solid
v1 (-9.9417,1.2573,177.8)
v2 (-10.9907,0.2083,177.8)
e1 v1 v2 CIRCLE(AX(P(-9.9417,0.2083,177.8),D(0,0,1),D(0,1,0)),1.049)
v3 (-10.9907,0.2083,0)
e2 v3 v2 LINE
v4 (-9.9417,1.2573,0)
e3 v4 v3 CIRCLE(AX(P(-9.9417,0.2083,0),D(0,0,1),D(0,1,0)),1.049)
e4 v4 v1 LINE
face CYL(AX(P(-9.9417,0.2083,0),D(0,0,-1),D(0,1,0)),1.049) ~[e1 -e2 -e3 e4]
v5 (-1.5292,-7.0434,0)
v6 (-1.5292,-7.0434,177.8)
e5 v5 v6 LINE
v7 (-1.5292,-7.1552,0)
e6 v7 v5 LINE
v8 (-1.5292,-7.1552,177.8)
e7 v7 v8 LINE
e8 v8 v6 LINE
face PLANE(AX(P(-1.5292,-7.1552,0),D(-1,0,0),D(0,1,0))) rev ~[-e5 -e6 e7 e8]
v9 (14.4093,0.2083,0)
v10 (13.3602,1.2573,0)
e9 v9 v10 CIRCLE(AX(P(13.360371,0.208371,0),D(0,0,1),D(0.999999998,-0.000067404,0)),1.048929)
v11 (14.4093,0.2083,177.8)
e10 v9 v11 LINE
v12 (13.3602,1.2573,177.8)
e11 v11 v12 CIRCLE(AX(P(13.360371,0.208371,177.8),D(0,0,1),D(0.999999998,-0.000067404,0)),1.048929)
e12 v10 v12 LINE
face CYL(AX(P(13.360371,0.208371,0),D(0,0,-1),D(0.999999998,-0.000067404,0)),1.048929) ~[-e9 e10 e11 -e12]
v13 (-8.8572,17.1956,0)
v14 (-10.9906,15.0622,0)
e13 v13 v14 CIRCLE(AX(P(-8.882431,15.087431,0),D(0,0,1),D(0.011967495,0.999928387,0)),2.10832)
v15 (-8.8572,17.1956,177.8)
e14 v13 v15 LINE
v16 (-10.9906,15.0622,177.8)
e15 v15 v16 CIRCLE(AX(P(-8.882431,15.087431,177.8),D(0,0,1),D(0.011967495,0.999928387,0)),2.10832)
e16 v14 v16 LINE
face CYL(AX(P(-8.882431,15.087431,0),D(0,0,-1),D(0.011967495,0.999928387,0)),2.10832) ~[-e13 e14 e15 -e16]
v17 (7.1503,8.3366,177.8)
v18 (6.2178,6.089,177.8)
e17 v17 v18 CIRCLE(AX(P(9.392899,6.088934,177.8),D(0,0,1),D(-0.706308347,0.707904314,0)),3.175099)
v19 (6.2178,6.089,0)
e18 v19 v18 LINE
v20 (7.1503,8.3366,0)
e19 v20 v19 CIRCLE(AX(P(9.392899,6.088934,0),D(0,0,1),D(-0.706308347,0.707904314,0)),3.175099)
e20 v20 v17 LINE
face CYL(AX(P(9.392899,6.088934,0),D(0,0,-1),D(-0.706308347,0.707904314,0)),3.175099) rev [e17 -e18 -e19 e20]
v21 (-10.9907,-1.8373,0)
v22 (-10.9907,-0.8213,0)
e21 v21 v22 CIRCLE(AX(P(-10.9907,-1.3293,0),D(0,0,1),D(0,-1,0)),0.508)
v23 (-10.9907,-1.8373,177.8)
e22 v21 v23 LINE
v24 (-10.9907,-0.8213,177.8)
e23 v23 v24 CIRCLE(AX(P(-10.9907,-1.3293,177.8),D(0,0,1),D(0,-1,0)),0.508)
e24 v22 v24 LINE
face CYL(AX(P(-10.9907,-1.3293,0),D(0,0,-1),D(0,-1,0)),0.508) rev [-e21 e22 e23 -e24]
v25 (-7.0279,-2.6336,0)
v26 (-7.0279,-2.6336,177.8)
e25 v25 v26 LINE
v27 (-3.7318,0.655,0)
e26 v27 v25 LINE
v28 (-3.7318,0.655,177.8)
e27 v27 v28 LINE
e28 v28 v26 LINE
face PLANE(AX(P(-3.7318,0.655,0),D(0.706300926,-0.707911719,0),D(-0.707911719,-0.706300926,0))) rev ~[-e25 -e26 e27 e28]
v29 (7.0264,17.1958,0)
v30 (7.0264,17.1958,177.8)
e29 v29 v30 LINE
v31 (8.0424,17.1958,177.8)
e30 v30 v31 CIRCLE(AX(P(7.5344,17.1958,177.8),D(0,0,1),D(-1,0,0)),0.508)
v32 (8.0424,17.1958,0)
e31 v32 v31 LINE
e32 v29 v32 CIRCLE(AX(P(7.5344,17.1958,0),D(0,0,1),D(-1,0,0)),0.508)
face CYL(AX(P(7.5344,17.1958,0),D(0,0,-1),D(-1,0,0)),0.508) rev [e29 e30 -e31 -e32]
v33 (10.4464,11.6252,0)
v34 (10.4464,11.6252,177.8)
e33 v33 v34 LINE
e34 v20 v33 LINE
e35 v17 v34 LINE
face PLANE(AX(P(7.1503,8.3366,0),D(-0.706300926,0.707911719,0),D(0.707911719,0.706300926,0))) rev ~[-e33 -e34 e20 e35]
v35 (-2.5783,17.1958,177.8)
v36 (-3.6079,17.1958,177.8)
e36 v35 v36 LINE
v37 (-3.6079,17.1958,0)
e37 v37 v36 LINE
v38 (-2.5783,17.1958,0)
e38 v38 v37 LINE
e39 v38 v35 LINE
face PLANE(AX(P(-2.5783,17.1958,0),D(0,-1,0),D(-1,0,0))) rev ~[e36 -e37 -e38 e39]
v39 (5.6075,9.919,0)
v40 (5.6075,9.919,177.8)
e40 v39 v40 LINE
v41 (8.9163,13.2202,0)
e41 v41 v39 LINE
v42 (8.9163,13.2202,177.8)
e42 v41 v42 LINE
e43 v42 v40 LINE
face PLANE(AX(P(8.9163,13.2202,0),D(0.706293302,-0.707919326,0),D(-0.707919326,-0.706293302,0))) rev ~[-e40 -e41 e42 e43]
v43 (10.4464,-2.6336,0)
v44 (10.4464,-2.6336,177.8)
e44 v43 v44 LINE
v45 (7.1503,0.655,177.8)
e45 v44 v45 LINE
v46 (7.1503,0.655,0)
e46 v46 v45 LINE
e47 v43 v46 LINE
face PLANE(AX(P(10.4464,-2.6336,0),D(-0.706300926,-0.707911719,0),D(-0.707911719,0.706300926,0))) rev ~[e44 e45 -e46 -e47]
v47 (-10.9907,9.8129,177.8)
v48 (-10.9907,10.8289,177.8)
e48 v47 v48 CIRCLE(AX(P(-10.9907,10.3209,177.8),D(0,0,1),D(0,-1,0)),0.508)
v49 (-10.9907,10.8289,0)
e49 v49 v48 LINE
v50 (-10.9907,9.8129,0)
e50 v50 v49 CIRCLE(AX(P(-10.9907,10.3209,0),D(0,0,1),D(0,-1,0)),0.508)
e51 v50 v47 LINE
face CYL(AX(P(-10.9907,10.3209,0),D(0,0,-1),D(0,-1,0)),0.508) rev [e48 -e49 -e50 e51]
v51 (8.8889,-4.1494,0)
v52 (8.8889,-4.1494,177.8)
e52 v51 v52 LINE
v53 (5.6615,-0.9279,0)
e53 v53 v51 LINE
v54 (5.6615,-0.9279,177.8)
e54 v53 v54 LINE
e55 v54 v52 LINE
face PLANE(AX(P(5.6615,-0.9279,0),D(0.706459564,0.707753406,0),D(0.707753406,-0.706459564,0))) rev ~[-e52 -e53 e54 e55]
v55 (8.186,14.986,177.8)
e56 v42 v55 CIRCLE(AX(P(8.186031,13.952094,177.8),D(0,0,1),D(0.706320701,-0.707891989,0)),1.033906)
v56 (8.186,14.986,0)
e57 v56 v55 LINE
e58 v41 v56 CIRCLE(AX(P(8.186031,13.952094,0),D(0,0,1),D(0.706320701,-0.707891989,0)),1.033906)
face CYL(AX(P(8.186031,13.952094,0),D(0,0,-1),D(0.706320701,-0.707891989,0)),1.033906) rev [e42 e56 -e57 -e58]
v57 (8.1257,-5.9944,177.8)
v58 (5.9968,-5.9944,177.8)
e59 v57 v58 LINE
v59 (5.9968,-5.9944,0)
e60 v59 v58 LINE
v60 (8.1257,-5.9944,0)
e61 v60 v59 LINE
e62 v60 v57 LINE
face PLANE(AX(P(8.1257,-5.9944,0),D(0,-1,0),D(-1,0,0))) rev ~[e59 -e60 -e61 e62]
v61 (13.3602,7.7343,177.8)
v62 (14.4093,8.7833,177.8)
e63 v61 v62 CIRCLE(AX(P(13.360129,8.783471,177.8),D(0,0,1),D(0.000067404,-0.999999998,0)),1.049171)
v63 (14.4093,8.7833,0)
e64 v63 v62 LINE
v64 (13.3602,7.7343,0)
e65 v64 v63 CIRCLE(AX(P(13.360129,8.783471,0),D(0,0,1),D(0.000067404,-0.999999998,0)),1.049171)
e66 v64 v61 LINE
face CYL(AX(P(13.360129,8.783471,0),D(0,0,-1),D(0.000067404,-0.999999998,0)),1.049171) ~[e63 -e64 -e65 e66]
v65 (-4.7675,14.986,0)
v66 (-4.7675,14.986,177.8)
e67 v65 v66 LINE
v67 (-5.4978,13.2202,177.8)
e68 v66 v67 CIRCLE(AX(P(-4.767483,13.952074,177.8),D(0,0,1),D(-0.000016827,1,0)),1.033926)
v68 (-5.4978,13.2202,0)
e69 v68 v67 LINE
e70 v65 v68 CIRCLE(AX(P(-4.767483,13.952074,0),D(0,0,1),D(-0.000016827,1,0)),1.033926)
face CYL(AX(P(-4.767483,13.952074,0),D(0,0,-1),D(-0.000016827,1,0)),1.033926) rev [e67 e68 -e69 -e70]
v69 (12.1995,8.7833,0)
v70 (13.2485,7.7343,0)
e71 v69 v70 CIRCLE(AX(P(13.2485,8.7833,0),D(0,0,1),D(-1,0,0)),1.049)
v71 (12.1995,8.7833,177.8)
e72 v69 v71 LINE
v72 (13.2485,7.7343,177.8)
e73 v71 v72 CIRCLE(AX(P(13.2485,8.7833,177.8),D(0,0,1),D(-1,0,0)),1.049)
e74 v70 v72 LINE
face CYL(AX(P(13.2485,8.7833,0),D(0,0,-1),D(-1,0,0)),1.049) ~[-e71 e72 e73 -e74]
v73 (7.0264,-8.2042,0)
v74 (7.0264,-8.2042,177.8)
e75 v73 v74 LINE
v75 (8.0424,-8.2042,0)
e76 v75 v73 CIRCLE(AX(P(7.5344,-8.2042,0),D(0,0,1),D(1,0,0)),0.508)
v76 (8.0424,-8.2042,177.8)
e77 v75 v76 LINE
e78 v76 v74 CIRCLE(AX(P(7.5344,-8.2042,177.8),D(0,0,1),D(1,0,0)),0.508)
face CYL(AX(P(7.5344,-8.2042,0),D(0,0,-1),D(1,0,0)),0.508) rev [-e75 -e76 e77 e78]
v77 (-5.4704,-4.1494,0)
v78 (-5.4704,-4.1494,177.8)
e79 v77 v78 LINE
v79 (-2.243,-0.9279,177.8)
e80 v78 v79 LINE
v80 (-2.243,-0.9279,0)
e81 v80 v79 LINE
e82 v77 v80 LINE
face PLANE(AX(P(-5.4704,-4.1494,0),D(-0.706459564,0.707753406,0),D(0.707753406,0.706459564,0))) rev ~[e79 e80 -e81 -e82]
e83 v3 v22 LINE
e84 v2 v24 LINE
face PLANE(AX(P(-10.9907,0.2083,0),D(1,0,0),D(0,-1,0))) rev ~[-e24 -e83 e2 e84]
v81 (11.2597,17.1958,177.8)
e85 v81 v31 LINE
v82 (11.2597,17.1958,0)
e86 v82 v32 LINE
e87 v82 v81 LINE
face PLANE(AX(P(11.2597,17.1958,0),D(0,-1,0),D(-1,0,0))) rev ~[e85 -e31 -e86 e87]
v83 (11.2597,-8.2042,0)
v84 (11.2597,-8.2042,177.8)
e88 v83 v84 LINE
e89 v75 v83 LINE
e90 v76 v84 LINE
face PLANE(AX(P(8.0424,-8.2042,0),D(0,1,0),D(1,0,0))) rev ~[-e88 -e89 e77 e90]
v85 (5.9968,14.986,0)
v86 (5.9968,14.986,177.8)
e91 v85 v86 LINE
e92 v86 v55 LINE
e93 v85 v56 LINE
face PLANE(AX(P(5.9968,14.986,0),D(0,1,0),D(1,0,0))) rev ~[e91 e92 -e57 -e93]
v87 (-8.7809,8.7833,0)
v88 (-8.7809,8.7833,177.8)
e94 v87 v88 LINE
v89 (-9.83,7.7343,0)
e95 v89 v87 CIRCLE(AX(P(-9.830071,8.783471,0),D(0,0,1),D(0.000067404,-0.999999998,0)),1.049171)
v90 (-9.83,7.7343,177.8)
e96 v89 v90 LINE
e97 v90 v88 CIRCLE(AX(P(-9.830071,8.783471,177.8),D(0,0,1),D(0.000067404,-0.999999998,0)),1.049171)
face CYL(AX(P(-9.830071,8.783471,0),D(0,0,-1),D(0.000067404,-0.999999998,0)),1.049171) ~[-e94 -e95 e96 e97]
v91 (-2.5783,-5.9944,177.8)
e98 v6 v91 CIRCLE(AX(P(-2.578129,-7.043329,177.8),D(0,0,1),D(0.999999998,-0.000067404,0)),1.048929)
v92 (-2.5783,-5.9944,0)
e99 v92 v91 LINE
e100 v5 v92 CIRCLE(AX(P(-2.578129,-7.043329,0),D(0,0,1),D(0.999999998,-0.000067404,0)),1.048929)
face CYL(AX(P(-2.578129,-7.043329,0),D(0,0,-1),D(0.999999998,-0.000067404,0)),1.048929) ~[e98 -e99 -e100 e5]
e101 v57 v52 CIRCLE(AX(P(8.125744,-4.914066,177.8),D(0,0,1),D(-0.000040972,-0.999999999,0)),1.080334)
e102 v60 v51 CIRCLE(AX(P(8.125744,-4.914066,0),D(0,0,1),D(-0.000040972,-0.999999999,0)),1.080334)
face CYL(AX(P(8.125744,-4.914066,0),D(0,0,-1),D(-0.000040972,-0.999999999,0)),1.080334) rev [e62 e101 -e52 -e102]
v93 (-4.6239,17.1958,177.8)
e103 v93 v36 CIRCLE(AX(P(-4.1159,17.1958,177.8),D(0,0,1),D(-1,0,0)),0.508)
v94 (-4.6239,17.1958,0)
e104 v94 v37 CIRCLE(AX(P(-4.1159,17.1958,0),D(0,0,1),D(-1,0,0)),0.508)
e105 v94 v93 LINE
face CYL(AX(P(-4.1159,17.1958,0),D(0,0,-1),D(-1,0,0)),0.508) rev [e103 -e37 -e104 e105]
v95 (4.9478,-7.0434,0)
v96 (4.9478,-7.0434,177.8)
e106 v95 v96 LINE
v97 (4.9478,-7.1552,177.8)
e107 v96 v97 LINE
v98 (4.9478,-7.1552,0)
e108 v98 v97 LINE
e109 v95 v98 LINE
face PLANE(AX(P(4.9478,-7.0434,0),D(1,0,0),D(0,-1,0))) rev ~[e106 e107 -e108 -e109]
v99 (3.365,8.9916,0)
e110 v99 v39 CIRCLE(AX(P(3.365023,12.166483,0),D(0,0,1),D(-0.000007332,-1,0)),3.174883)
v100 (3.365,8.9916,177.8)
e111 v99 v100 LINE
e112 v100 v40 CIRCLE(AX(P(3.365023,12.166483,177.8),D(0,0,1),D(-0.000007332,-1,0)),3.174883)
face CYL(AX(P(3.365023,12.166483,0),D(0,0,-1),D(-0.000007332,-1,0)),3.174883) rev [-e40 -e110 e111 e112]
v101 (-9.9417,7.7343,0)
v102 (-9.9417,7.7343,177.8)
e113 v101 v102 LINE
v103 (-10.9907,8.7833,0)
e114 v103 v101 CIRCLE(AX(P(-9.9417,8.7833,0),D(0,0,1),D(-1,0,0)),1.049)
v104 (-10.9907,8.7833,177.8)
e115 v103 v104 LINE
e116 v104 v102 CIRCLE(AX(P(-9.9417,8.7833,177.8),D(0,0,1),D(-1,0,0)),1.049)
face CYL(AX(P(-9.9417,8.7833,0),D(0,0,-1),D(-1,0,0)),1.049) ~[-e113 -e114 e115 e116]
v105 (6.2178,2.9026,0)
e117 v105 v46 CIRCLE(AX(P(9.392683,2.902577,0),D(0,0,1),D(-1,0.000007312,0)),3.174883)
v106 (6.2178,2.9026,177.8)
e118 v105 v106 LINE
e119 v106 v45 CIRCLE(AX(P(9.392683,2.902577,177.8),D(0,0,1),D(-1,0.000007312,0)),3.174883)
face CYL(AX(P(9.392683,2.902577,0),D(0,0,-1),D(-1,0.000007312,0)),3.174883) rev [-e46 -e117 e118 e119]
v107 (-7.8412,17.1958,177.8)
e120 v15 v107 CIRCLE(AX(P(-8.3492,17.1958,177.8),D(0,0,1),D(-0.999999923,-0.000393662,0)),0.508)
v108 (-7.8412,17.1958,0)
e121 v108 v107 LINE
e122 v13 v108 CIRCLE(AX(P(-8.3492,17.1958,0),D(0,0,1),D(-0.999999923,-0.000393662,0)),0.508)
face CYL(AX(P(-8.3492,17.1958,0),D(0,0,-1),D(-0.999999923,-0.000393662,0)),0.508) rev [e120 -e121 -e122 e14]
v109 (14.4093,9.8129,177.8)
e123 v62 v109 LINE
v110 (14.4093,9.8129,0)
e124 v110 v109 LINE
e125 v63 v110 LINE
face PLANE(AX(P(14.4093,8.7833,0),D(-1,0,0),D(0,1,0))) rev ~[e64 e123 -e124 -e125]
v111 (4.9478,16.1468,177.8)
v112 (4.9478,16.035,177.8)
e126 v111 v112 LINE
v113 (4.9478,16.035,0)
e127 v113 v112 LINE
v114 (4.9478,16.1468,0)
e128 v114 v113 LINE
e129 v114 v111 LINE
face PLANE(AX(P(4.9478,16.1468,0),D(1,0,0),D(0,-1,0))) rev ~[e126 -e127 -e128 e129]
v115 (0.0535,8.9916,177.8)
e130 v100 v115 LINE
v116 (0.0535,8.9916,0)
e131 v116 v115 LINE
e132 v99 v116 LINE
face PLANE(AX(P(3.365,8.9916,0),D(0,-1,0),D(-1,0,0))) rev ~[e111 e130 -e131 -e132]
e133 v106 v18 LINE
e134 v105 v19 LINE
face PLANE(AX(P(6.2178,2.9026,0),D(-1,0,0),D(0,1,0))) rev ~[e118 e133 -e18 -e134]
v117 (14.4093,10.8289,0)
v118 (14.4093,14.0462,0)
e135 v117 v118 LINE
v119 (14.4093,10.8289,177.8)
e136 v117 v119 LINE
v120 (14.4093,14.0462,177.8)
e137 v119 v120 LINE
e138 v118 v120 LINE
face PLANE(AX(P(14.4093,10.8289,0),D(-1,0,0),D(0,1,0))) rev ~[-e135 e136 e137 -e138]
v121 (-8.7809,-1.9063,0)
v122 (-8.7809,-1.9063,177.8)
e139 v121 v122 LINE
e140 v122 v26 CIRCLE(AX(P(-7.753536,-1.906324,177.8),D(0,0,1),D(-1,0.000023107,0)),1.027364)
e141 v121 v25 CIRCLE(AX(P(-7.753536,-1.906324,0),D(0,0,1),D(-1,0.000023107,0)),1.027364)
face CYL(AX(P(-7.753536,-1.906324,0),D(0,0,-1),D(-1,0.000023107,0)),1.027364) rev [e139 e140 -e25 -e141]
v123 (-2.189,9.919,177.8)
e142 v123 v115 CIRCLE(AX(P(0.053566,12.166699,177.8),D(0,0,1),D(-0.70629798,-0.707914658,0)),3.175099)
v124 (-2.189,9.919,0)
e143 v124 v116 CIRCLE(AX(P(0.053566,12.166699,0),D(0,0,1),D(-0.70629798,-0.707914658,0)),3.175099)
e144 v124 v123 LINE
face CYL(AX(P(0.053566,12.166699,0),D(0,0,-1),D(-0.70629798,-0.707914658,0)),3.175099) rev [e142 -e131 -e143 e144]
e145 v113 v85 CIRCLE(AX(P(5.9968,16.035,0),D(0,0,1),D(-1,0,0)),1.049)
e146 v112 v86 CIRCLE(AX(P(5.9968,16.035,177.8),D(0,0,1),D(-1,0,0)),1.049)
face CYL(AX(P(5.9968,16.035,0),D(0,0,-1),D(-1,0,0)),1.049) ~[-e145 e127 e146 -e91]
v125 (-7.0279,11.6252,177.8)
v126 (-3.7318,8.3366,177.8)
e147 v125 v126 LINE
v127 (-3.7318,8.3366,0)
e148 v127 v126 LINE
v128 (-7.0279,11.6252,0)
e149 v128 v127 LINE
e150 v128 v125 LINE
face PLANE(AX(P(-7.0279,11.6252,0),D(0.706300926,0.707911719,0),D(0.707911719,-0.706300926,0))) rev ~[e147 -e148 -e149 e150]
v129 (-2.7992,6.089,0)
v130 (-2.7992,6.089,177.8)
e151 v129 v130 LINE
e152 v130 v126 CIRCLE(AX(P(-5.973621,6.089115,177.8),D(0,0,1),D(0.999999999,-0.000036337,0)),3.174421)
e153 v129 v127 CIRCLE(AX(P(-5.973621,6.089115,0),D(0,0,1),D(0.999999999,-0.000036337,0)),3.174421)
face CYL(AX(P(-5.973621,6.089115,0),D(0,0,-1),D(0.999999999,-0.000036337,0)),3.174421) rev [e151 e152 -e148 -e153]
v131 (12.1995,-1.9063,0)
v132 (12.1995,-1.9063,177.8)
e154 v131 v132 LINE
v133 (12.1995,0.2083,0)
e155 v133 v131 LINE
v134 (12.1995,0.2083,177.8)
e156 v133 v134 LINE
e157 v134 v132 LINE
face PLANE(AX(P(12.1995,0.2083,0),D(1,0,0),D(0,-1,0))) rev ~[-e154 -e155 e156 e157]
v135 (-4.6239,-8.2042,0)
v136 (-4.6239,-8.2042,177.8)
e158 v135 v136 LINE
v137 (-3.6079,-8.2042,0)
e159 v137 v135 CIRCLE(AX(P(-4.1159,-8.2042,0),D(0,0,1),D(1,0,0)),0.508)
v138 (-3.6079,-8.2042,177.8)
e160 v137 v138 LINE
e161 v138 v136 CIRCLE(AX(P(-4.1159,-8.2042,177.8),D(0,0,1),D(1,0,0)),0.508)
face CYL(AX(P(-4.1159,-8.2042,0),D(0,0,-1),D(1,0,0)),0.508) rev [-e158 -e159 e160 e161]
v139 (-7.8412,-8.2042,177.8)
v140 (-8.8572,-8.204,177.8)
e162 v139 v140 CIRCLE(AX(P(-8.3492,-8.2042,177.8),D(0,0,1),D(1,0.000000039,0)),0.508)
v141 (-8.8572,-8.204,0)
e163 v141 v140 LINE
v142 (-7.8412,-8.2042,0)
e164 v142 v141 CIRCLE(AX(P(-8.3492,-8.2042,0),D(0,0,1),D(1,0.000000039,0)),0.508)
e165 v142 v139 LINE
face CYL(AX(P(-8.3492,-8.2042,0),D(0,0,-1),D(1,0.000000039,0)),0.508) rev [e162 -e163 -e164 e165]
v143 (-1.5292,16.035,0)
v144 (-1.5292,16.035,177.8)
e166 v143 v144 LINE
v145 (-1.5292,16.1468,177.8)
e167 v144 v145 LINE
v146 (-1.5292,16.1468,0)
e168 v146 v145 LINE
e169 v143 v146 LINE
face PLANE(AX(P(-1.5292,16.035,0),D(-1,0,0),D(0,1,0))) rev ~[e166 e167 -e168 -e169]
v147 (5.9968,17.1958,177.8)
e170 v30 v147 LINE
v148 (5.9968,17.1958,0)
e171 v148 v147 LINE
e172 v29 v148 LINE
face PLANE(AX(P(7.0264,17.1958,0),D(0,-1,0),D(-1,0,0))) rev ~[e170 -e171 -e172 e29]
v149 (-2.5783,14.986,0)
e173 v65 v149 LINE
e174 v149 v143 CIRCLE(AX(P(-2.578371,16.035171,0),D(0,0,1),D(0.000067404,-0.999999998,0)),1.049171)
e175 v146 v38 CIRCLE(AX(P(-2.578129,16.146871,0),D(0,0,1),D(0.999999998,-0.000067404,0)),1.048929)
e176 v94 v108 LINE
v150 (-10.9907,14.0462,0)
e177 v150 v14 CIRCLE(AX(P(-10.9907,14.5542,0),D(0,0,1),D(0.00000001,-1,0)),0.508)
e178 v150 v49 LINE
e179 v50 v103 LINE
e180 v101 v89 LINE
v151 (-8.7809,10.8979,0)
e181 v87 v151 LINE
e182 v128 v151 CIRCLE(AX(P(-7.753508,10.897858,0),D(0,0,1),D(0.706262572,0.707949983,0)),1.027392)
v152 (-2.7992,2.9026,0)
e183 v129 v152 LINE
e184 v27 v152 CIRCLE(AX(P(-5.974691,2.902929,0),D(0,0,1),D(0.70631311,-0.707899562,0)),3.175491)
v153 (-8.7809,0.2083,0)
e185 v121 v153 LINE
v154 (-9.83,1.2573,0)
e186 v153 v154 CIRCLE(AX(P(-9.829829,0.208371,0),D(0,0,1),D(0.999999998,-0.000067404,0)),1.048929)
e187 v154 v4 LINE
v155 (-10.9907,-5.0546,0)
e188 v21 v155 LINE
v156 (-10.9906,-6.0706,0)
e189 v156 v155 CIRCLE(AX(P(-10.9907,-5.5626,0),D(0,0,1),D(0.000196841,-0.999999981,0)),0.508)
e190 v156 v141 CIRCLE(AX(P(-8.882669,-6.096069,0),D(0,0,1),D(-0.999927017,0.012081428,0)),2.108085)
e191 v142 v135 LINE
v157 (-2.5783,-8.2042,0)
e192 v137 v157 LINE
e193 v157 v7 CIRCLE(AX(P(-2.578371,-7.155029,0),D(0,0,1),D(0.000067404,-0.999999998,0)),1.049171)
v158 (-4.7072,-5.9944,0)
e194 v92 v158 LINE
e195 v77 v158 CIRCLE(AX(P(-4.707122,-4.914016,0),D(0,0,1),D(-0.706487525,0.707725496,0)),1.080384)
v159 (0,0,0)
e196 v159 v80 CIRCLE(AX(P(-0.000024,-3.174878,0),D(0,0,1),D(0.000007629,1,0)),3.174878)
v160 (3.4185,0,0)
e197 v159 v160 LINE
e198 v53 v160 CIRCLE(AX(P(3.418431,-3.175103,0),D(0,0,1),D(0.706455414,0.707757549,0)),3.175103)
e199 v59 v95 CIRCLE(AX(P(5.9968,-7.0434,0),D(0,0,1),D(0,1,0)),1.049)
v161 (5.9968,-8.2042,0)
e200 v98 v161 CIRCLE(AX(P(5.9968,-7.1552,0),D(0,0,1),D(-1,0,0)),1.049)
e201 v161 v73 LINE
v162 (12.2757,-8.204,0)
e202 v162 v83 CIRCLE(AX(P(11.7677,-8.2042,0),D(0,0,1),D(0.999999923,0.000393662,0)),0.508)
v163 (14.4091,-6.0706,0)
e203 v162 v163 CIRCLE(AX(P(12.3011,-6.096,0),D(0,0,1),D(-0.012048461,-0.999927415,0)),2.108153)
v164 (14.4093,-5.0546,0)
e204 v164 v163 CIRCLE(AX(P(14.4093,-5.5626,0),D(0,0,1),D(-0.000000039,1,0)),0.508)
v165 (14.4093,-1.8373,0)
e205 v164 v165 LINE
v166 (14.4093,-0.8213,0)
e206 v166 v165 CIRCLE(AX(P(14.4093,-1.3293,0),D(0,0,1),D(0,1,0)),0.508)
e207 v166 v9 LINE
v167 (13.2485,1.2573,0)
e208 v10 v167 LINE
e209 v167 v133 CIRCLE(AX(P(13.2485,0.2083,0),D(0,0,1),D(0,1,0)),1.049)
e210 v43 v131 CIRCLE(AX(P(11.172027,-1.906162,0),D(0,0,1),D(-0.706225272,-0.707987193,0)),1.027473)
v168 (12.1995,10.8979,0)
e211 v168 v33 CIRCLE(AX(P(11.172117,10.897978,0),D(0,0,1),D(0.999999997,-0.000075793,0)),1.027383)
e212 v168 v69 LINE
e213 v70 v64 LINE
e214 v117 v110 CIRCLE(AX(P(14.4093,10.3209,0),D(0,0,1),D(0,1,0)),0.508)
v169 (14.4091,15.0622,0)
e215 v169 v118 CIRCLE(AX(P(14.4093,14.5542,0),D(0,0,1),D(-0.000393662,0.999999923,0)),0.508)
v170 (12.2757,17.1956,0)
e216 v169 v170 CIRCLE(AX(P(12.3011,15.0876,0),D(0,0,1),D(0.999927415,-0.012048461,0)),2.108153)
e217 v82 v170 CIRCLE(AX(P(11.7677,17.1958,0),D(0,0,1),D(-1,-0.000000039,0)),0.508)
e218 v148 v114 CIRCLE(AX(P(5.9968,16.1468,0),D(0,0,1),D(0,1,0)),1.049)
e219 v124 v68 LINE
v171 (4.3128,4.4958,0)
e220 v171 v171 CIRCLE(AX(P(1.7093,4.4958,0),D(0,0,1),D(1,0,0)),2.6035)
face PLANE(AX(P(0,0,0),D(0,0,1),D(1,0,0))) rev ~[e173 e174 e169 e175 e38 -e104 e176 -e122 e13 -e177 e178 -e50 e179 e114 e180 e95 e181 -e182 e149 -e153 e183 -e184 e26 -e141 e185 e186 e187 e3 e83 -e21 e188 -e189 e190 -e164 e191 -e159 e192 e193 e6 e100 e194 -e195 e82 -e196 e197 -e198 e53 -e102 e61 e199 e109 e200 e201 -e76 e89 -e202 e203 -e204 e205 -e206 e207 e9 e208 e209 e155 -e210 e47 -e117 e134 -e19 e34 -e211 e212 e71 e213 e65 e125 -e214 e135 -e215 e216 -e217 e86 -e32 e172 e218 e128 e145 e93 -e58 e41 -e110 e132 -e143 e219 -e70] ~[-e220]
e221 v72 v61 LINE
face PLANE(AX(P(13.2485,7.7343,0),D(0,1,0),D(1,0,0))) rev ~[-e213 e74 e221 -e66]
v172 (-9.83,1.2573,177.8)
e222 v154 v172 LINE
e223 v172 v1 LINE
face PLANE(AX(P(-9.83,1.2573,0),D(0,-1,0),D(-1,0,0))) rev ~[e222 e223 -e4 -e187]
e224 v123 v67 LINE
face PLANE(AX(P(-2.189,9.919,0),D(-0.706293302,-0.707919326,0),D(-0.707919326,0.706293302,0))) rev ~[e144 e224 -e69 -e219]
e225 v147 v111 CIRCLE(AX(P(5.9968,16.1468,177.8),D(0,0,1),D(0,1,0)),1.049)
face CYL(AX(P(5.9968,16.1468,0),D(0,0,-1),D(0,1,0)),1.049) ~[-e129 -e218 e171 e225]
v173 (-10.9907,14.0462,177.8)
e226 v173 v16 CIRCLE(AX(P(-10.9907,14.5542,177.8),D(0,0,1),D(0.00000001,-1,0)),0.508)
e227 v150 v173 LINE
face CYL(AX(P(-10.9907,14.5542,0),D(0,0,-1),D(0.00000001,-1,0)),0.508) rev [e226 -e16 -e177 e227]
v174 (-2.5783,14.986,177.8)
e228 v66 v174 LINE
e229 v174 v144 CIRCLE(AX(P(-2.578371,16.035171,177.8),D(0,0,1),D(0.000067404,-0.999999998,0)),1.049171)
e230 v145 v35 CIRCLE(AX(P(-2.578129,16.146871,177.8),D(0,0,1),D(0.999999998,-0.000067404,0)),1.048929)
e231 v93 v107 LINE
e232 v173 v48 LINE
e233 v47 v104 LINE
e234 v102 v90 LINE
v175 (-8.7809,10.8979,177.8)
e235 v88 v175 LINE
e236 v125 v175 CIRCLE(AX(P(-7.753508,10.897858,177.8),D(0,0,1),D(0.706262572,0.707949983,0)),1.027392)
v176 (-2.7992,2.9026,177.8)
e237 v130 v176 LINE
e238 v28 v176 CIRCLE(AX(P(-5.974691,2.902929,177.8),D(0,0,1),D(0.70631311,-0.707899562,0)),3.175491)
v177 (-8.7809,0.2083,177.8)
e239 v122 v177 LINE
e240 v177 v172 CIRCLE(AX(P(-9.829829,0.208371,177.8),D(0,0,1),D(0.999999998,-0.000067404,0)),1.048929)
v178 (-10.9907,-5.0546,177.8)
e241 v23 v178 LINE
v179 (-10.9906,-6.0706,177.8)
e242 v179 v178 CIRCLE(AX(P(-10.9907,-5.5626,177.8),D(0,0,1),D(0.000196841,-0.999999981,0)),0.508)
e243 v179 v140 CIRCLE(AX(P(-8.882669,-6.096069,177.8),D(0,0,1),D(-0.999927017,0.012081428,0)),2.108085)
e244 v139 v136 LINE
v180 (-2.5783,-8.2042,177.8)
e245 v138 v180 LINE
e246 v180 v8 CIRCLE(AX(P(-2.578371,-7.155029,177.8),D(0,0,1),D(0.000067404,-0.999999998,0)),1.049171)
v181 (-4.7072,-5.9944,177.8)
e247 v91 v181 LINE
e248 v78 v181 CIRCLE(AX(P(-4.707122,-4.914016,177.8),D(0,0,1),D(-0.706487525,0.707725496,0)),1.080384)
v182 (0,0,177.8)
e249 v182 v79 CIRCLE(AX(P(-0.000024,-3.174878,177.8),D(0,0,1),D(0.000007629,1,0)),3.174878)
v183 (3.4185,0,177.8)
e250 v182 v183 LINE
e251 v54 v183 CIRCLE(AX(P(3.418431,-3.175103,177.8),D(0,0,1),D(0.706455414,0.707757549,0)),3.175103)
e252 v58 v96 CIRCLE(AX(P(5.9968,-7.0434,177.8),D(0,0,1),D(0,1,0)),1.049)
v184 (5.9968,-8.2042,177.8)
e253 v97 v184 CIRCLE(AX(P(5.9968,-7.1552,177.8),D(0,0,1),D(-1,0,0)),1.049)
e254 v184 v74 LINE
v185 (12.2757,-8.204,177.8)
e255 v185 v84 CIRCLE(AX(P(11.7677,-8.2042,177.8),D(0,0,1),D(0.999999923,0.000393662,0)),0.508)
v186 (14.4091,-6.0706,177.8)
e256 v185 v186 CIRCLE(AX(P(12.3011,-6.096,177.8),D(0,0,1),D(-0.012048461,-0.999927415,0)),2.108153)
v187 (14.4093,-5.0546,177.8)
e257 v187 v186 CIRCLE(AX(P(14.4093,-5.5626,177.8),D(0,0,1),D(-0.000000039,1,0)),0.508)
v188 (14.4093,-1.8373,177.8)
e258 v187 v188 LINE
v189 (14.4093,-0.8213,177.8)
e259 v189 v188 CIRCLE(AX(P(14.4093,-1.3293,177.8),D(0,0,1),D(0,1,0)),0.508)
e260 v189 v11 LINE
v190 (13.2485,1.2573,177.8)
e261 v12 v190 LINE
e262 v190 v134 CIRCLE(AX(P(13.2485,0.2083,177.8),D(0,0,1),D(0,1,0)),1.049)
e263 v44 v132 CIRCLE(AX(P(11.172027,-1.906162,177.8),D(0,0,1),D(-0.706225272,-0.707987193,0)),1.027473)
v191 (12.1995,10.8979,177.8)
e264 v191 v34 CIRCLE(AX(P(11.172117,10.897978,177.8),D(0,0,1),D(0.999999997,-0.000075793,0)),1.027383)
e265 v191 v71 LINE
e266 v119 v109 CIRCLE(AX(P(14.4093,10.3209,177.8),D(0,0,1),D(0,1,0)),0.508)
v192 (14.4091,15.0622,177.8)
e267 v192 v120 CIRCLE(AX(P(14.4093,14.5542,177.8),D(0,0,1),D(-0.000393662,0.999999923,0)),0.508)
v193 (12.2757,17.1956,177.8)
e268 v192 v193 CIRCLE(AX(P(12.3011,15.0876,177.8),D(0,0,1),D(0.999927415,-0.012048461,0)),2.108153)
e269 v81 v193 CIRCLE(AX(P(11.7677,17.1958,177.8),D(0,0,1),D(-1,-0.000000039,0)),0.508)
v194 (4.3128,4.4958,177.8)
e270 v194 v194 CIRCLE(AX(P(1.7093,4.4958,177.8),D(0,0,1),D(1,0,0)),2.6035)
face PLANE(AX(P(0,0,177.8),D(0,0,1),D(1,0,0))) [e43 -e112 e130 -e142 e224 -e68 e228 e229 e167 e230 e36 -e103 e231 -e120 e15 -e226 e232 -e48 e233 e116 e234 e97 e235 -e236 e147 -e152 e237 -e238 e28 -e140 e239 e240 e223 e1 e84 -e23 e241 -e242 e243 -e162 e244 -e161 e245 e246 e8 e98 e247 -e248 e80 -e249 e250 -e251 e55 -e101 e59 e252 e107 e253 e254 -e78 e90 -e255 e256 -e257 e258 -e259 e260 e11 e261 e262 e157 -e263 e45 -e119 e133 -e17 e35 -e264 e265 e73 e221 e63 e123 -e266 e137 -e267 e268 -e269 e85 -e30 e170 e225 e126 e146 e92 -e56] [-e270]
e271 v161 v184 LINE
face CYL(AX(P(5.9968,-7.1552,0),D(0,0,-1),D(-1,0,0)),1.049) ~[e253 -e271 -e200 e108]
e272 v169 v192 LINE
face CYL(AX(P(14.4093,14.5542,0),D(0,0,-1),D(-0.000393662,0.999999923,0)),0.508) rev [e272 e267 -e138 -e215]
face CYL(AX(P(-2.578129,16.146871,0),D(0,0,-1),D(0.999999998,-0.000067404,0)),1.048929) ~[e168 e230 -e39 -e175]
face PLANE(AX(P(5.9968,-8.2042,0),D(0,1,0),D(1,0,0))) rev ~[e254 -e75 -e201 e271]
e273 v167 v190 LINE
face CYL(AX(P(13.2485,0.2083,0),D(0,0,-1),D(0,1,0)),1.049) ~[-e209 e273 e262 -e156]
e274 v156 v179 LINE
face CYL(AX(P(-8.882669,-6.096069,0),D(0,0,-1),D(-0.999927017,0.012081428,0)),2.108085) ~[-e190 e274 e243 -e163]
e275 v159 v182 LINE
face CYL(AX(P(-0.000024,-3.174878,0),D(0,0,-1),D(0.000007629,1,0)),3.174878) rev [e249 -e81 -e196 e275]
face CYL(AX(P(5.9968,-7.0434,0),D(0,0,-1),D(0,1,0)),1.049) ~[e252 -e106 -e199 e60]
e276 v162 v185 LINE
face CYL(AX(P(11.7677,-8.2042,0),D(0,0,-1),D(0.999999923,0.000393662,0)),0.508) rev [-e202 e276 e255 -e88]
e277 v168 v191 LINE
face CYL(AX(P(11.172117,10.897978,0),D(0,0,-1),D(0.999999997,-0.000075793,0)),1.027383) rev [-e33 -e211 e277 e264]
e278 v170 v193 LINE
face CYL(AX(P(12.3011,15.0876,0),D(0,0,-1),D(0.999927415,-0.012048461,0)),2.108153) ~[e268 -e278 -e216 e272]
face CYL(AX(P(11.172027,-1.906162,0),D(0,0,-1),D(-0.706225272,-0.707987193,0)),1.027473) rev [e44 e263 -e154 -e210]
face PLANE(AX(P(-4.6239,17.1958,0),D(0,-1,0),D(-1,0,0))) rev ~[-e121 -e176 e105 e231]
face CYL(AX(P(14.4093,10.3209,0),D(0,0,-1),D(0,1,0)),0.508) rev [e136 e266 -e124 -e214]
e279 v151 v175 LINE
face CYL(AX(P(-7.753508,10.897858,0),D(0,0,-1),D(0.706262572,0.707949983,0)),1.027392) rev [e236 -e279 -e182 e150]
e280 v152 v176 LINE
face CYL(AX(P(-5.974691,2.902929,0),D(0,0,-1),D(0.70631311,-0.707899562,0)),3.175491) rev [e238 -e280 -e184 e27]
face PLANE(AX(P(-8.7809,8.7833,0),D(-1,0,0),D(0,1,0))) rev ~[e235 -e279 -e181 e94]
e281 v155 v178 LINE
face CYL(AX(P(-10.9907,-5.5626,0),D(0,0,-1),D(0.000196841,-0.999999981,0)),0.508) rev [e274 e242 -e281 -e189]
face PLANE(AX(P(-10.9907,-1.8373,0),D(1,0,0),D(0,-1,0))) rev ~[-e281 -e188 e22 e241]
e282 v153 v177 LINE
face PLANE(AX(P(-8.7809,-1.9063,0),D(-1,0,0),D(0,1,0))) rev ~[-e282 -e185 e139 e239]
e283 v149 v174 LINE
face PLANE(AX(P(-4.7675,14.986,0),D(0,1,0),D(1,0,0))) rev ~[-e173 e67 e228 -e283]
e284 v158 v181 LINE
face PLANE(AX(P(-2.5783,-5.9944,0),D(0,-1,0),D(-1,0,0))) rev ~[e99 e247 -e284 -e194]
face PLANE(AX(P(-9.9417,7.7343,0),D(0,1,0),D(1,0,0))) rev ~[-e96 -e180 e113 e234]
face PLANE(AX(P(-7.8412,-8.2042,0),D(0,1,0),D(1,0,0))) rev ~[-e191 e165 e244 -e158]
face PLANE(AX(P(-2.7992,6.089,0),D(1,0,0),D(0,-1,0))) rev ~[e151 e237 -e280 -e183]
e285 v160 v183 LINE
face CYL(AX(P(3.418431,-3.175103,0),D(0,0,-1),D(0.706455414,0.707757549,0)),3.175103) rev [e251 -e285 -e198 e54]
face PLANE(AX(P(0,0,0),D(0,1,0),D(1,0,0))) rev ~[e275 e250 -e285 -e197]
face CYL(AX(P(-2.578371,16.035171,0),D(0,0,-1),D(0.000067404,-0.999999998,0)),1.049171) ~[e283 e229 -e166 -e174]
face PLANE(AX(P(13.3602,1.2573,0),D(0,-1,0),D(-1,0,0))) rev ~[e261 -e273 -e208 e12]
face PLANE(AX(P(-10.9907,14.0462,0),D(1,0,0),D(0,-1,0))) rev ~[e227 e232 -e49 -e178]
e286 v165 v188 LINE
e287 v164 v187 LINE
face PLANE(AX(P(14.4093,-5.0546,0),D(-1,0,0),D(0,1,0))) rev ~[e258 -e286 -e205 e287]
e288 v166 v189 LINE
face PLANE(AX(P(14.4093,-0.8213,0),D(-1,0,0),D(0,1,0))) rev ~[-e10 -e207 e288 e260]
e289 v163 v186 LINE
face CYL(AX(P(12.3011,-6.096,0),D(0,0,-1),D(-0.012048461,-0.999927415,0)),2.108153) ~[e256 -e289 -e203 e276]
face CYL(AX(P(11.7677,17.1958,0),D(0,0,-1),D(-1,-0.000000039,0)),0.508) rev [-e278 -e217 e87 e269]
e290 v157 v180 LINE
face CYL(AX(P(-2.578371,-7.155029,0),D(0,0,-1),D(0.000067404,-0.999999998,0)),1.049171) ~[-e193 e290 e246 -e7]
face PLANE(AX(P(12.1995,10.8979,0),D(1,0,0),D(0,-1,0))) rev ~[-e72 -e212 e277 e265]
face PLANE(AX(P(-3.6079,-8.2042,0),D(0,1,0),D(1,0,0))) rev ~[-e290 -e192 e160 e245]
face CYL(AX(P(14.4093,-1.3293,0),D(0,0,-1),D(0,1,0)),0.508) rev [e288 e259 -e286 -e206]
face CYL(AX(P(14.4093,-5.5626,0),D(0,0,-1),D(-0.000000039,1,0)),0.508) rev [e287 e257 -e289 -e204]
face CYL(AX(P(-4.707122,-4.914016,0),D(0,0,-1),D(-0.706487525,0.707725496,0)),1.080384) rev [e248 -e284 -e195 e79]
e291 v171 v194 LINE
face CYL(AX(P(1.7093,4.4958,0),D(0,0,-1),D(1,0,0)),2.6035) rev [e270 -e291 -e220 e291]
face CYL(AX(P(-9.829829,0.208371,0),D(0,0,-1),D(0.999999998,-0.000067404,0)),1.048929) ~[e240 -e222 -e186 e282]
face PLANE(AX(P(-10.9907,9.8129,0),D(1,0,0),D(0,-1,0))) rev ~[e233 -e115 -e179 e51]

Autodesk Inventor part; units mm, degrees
ref_plane "YZ Plane" through (0, 0, 0) normal (1, 0, 0) x (0, 1, 0)
ref_plane "XZ Plane" through (0, 0, 0) normal (0, 1, 0) x (-1, 0, 0)
ref_plane "XY Plane" through (0, 0, 0) normal (0, 0, 1) x (1, 0, 0)
sketch "Sketch1" plane through (0, 0, 0) normal (0, 0, 1) x (1, 0, 0)
  arc A0 (-5.4704, -4.1494) -> (-4.7072, -5.9944) centre (-4.7072, -4.914) ccw
  line L0 (-5.4704, -4.1494) -> (-2.243, -0.9279)
  arc A1 (0, 0) -> (-2.243, -0.9279) centre (0, -3.175) ccw
  line L1 (0, 0) -> (3.4185, 0)
  arc A2 (5.6615, -0.9279) -> (3.4185, 0) centre (3.4185, -3.175) ccw
  line L2 (5.6615, -0.9279) -> (8.8889, -4.1494)
  arc A3 (8.1257, -5.9944) -> (8.8889, -4.1494) centre (8.1257, -4.914) ccw
  line L3 (8.1257, -5.9944) -> (5.9968, -5.9944)
  arc A4 (5.9968, -5.9944) -> (4.9478, -7.0434) centre (5.9968, -7.0434) ccw
  line L4 (4.9478, -7.0434) -> (4.9478, -7.1552)
  arc A5 (4.9478, -7.1552) -> (5.9968, -8.2042) centre (5.9968, -7.1552) ccw
  line L5 (5.9968, -8.2042) -> (7.0264, -8.2042)
  arc A6 (8.0424, -8.2042) -> (7.0264, -8.2042) centre (7.5344, -8.2042) ccw
  line L6 (8.0424, -8.2042) -> (11.2597, -8.2042)
  arc A7 (12.2757, -8.204) -> (11.2597, -8.2042) centre (11.7677, -8.2042) ccw
  arc A8 (12.2757, -8.204) -> (14.4091, -6.0706) centre (12.3011, -6.096) ccw
  arc A9 (14.4093, -5.0546) -> (14.4091, -6.0706) centre (14.4093, -5.5626) ccw
  line L7 (14.4093, -5.0546) -> (14.4093, -1.8373)
  arc A10 (14.4093, -0.8213) -> (14.4093, -1.8373) centre (14.4093, -1.3293) ccw
  line L8 (14.4093, -0.8213) -> (14.4093, 0.2083)
  arc A11 (14.4093, 0.2083) -> (13.3602, 1.2573) centre (13.3602, 0.2083) ccw
  line L9 (13.3602, 1.2573) -> (13.2485, 1.2573)
  arc A12 (13.2485, 1.2573) -> (12.1995, 0.2083) centre (13.2485, 0.2083) ccw
  line L10 (12.1995, 0.2083) -> (12.1995, -1.9063)
  arc A13 (10.4464, -2.6336) -> (12.1995, -1.9063) centre (11.172, -1.9063) ccw
  line L11 (10.4464, -2.6336) -> (7.1503, 0.655)
  arc A14 (6.2178, 2.9026) -> (7.1503, 0.655) centre (9.3928, 2.9026) ccw
  line L12 (6.2178, 2.9026) -> (6.2178, 6.089)
  arc A15 (7.1503, 8.3366) -> (6.2178, 6.089) centre (9.3928, 6.089) ccw
  line L13 (7.1503, 8.3366) -> (10.4464, 11.6252)
  arc A16 (12.1995, 10.8979) -> (10.4464, 11.6252) centre (11.172, 10.8979) ccw
  line L14 (12.1995, 10.8979) -> (12.1995, 8.7833)
  arc A17 (12.1995, 8.7833) -> (13.2485, 7.7343) centre (13.2485, 8.7833) ccw
  line L15 (13.2485, 7.7343) -> (13.3602, 7.7343)
  arc A18 (13.3602, 7.7343) -> (14.4093, 8.7833) centre (13.3602, 8.7833) ccw
  line L16 (14.4093, 8.7833) -> (14.4093, 9.8129)
  arc A19 (14.4093, 10.8289) -> (14.4093, 9.8129) centre (14.4093, 10.3209) ccw
  line L17 (14.4093, 10.8289) -> (14.4093, 14.0462)
  arc A20 (14.4091, 15.0622) -> (14.4093, 14.0462) centre (14.4093, 14.5542) ccw
  arc A21 (14.4091, 15.0622) -> (12.2757, 17.1956) centre (12.3011, 15.0876) ccw
  arc A22 (11.2597, 17.1958) -> (12.2757, 17.1956) centre (11.7677, 17.1958) ccw
  line L18 (11.2597, 17.1958) -> (8.0424, 17.1958)
  arc A23 (7.0264, 17.1958) -> (8.0424, 17.1958) centre (7.5344, 17.1958) ccw
  line L19 (7.0264, 17.1958) -> (5.9968, 17.1958)
  arc A24 (5.9968, 17.1958) -> (4.9478, 16.1468) centre (5.9968, 16.1468) ccw
  line L20 (4.9478, 16.1468) -> (4.9478, 16.035)
  arc A25 (4.9478, 16.035) -> (5.9968, 14.986) centre (5.9968, 16.035) ccw
  line L21 (5.9968, 14.986) -> (8.186, 14.986)
  arc A26 (8.9163, 13.2202) -> (8.186, 14.986) centre (8.186, 13.9521) ccw
  line L22 (8.9163, 13.2202) -> (5.6075, 9.919)
  arc A27 (3.365, 8.9916) -> (5.6075, 9.919) centre (3.365, 12.1666) ccw
  line L23 (3.365, 8.9916) -> (0.0535, 8.9916)
  arc A28 (-2.189, 9.919) -> (0.0535, 8.9916) centre (0.0535, 12.1666) ccw
  line L24 (-2.189, 9.919) -> (-5.4978, 13.2202)
  arc A29 (-4.7675, 14.986) -> (-5.4978, 13.2202) centre (-4.7675, 13.9521) ccw
  line L25 (-4.7675, 14.986) -> (-2.5783, 14.986)
  arc A30 (-2.5783, 14.986) -> (-1.5292, 16.035) centre (-2.5783, 16.035) ccw
  line L26 (-1.5292, 16.035) -> (-1.5292, 16.1468)
  arc A31 (-1.5292, 16.1468) -> (-2.5783, 17.1958) centre (-2.5783, 16.1468) ccw
  line L27 (-2.5783, 17.1958) -> (-3.6079, 17.1958)
  arc A32 (-4.6239, 17.1958) -> (-3.6079, 17.1958) centre (-4.1159, 17.1958) ccw
  line L28 (-4.6239, 17.1958) -> (-7.8412, 17.1958)
  arc A33 (-8.8572, 17.1956) -> (-7.8412, 17.1958) centre (-8.3492, 17.1958) ccw
  arc A34 (-8.8572, 17.1956) -> (-10.9906, 15.0622) centre (-8.8825, 15.0876) ccw
  arc A35 (-10.9907, 14.0462) -> (-10.9906, 15.0622) centre (-10.9907, 14.5542) ccw
  line L29 (-10.9907, 14.0462) -> (-10.9907, 10.8289)
  arc A36 (-10.9907, 9.8129) -> (-10.9907, 10.8289) centre (-10.9907, 10.3209) ccw
  line L30 (-10.9907, 9.8129) -> (-10.9907, 8.7833)
  arc A37 (-10.9907, 8.7833) -> (-9.9417, 7.7343) centre (-9.9417, 8.7833) ccw
  line L31 (-9.9417, 7.7343) -> (-9.83, 7.7343)
  arc A38 (-9.83, 7.7343) -> (-8.7809, 8.7833) centre (-9.83, 8.7833) ccw
  line L32 (-8.7809, 8.7833) -> (-8.7809, 10.8979)
  arc A39 (-7.0279, 11.6252) -> (-8.7809, 10.8979) centre (-7.7535, 10.8979) ccw
  line L33 (-7.0279, 11.6252) -> (-3.7318, 8.3366)
  arc A40 (-2.7992, 6.089) -> (-3.7318, 8.3366) centre (-5.9742, 6.089) ccw
  line L34 (-2.7992, 6.089) -> (-2.7992, 2.9026)
  arc A41 (-3.7318, 0.655) -> (-2.7992, 2.9026) centre (-5.9742, 2.9026) ccw
  line L35 (-3.7318, 0.655) -> (-7.0279, -2.6336)
  arc A42 (-8.7809, -1.9063) -> (-7.0279, -2.6336) centre (-7.7535, -1.9063) ccw
  line L36 (-8.7809, -1.9063) -> (-8.7809, 0.2083)
  arc A43 (-8.7809, 0.2083) -> (-9.83, 1.2573) centre (-9.83, 0.2083) ccw
  line L37 (-9.83, 1.2573) -> (-9.9417, 1.2573)
  arc A44 (-9.9417, 1.2573) -> (-10.9907, 0.2083) centre (-9.9417, 0.2083) ccw
  line L38 (-10.9907, 0.2083) -> (-10.9907, -0.8213)
  arc A45 (-10.9907, -1.8373) -> (-10.9907, -0.8213) centre (-10.9907, -1.3293) ccw
  line L39 (-10.9907, -1.8373) -> (-10.9907, -5.0546)
  arc A46 (-10.9906, -6.0706) -> (-10.9907, -5.0546) centre (-10.9907, -5.5626) ccw
  arc A47 (-10.9906, -6.0706) -> (-8.8572, -8.204) centre (-8.8825, -6.096) ccw
  arc A48 (-7.8412, -8.2042) -> (-8.8572, -8.204) centre (-8.3492, -8.2042) ccw
  line L40 (-7.8412, -8.2042) -> (-4.6239, -8.2042)
  arc A49 (-3.6079, -8.2042) -> (-4.6239, -8.2042) centre (-4.1159, -8.2042) ccw
  line L41 (-3.6079, -8.2042) -> (-2.5783, -8.2042)
  arc A50 (-2.5783, -8.2042) -> (-1.5292, -7.1552) centre (-2.5783, -7.1552) ccw
  line L42 (-1.5292, -7.1552) -> (-1.5292, -7.0434)
  arc A51 (-1.5292, -7.0434) -> (-2.5783, -5.9944) centre (-2.5783, -7.0434) ccw
  line L43 (-2.5783, -5.9944) -> (-4.7072, -5.9944)
  circle A52 centre (1.7093, 4.4958) radius 2.6035
extrude "Extrusion1" add sketch "Sketch1" along normal blind 177.8
properties part number "7in 1x1 T slot" material "Steel, Alloy"
